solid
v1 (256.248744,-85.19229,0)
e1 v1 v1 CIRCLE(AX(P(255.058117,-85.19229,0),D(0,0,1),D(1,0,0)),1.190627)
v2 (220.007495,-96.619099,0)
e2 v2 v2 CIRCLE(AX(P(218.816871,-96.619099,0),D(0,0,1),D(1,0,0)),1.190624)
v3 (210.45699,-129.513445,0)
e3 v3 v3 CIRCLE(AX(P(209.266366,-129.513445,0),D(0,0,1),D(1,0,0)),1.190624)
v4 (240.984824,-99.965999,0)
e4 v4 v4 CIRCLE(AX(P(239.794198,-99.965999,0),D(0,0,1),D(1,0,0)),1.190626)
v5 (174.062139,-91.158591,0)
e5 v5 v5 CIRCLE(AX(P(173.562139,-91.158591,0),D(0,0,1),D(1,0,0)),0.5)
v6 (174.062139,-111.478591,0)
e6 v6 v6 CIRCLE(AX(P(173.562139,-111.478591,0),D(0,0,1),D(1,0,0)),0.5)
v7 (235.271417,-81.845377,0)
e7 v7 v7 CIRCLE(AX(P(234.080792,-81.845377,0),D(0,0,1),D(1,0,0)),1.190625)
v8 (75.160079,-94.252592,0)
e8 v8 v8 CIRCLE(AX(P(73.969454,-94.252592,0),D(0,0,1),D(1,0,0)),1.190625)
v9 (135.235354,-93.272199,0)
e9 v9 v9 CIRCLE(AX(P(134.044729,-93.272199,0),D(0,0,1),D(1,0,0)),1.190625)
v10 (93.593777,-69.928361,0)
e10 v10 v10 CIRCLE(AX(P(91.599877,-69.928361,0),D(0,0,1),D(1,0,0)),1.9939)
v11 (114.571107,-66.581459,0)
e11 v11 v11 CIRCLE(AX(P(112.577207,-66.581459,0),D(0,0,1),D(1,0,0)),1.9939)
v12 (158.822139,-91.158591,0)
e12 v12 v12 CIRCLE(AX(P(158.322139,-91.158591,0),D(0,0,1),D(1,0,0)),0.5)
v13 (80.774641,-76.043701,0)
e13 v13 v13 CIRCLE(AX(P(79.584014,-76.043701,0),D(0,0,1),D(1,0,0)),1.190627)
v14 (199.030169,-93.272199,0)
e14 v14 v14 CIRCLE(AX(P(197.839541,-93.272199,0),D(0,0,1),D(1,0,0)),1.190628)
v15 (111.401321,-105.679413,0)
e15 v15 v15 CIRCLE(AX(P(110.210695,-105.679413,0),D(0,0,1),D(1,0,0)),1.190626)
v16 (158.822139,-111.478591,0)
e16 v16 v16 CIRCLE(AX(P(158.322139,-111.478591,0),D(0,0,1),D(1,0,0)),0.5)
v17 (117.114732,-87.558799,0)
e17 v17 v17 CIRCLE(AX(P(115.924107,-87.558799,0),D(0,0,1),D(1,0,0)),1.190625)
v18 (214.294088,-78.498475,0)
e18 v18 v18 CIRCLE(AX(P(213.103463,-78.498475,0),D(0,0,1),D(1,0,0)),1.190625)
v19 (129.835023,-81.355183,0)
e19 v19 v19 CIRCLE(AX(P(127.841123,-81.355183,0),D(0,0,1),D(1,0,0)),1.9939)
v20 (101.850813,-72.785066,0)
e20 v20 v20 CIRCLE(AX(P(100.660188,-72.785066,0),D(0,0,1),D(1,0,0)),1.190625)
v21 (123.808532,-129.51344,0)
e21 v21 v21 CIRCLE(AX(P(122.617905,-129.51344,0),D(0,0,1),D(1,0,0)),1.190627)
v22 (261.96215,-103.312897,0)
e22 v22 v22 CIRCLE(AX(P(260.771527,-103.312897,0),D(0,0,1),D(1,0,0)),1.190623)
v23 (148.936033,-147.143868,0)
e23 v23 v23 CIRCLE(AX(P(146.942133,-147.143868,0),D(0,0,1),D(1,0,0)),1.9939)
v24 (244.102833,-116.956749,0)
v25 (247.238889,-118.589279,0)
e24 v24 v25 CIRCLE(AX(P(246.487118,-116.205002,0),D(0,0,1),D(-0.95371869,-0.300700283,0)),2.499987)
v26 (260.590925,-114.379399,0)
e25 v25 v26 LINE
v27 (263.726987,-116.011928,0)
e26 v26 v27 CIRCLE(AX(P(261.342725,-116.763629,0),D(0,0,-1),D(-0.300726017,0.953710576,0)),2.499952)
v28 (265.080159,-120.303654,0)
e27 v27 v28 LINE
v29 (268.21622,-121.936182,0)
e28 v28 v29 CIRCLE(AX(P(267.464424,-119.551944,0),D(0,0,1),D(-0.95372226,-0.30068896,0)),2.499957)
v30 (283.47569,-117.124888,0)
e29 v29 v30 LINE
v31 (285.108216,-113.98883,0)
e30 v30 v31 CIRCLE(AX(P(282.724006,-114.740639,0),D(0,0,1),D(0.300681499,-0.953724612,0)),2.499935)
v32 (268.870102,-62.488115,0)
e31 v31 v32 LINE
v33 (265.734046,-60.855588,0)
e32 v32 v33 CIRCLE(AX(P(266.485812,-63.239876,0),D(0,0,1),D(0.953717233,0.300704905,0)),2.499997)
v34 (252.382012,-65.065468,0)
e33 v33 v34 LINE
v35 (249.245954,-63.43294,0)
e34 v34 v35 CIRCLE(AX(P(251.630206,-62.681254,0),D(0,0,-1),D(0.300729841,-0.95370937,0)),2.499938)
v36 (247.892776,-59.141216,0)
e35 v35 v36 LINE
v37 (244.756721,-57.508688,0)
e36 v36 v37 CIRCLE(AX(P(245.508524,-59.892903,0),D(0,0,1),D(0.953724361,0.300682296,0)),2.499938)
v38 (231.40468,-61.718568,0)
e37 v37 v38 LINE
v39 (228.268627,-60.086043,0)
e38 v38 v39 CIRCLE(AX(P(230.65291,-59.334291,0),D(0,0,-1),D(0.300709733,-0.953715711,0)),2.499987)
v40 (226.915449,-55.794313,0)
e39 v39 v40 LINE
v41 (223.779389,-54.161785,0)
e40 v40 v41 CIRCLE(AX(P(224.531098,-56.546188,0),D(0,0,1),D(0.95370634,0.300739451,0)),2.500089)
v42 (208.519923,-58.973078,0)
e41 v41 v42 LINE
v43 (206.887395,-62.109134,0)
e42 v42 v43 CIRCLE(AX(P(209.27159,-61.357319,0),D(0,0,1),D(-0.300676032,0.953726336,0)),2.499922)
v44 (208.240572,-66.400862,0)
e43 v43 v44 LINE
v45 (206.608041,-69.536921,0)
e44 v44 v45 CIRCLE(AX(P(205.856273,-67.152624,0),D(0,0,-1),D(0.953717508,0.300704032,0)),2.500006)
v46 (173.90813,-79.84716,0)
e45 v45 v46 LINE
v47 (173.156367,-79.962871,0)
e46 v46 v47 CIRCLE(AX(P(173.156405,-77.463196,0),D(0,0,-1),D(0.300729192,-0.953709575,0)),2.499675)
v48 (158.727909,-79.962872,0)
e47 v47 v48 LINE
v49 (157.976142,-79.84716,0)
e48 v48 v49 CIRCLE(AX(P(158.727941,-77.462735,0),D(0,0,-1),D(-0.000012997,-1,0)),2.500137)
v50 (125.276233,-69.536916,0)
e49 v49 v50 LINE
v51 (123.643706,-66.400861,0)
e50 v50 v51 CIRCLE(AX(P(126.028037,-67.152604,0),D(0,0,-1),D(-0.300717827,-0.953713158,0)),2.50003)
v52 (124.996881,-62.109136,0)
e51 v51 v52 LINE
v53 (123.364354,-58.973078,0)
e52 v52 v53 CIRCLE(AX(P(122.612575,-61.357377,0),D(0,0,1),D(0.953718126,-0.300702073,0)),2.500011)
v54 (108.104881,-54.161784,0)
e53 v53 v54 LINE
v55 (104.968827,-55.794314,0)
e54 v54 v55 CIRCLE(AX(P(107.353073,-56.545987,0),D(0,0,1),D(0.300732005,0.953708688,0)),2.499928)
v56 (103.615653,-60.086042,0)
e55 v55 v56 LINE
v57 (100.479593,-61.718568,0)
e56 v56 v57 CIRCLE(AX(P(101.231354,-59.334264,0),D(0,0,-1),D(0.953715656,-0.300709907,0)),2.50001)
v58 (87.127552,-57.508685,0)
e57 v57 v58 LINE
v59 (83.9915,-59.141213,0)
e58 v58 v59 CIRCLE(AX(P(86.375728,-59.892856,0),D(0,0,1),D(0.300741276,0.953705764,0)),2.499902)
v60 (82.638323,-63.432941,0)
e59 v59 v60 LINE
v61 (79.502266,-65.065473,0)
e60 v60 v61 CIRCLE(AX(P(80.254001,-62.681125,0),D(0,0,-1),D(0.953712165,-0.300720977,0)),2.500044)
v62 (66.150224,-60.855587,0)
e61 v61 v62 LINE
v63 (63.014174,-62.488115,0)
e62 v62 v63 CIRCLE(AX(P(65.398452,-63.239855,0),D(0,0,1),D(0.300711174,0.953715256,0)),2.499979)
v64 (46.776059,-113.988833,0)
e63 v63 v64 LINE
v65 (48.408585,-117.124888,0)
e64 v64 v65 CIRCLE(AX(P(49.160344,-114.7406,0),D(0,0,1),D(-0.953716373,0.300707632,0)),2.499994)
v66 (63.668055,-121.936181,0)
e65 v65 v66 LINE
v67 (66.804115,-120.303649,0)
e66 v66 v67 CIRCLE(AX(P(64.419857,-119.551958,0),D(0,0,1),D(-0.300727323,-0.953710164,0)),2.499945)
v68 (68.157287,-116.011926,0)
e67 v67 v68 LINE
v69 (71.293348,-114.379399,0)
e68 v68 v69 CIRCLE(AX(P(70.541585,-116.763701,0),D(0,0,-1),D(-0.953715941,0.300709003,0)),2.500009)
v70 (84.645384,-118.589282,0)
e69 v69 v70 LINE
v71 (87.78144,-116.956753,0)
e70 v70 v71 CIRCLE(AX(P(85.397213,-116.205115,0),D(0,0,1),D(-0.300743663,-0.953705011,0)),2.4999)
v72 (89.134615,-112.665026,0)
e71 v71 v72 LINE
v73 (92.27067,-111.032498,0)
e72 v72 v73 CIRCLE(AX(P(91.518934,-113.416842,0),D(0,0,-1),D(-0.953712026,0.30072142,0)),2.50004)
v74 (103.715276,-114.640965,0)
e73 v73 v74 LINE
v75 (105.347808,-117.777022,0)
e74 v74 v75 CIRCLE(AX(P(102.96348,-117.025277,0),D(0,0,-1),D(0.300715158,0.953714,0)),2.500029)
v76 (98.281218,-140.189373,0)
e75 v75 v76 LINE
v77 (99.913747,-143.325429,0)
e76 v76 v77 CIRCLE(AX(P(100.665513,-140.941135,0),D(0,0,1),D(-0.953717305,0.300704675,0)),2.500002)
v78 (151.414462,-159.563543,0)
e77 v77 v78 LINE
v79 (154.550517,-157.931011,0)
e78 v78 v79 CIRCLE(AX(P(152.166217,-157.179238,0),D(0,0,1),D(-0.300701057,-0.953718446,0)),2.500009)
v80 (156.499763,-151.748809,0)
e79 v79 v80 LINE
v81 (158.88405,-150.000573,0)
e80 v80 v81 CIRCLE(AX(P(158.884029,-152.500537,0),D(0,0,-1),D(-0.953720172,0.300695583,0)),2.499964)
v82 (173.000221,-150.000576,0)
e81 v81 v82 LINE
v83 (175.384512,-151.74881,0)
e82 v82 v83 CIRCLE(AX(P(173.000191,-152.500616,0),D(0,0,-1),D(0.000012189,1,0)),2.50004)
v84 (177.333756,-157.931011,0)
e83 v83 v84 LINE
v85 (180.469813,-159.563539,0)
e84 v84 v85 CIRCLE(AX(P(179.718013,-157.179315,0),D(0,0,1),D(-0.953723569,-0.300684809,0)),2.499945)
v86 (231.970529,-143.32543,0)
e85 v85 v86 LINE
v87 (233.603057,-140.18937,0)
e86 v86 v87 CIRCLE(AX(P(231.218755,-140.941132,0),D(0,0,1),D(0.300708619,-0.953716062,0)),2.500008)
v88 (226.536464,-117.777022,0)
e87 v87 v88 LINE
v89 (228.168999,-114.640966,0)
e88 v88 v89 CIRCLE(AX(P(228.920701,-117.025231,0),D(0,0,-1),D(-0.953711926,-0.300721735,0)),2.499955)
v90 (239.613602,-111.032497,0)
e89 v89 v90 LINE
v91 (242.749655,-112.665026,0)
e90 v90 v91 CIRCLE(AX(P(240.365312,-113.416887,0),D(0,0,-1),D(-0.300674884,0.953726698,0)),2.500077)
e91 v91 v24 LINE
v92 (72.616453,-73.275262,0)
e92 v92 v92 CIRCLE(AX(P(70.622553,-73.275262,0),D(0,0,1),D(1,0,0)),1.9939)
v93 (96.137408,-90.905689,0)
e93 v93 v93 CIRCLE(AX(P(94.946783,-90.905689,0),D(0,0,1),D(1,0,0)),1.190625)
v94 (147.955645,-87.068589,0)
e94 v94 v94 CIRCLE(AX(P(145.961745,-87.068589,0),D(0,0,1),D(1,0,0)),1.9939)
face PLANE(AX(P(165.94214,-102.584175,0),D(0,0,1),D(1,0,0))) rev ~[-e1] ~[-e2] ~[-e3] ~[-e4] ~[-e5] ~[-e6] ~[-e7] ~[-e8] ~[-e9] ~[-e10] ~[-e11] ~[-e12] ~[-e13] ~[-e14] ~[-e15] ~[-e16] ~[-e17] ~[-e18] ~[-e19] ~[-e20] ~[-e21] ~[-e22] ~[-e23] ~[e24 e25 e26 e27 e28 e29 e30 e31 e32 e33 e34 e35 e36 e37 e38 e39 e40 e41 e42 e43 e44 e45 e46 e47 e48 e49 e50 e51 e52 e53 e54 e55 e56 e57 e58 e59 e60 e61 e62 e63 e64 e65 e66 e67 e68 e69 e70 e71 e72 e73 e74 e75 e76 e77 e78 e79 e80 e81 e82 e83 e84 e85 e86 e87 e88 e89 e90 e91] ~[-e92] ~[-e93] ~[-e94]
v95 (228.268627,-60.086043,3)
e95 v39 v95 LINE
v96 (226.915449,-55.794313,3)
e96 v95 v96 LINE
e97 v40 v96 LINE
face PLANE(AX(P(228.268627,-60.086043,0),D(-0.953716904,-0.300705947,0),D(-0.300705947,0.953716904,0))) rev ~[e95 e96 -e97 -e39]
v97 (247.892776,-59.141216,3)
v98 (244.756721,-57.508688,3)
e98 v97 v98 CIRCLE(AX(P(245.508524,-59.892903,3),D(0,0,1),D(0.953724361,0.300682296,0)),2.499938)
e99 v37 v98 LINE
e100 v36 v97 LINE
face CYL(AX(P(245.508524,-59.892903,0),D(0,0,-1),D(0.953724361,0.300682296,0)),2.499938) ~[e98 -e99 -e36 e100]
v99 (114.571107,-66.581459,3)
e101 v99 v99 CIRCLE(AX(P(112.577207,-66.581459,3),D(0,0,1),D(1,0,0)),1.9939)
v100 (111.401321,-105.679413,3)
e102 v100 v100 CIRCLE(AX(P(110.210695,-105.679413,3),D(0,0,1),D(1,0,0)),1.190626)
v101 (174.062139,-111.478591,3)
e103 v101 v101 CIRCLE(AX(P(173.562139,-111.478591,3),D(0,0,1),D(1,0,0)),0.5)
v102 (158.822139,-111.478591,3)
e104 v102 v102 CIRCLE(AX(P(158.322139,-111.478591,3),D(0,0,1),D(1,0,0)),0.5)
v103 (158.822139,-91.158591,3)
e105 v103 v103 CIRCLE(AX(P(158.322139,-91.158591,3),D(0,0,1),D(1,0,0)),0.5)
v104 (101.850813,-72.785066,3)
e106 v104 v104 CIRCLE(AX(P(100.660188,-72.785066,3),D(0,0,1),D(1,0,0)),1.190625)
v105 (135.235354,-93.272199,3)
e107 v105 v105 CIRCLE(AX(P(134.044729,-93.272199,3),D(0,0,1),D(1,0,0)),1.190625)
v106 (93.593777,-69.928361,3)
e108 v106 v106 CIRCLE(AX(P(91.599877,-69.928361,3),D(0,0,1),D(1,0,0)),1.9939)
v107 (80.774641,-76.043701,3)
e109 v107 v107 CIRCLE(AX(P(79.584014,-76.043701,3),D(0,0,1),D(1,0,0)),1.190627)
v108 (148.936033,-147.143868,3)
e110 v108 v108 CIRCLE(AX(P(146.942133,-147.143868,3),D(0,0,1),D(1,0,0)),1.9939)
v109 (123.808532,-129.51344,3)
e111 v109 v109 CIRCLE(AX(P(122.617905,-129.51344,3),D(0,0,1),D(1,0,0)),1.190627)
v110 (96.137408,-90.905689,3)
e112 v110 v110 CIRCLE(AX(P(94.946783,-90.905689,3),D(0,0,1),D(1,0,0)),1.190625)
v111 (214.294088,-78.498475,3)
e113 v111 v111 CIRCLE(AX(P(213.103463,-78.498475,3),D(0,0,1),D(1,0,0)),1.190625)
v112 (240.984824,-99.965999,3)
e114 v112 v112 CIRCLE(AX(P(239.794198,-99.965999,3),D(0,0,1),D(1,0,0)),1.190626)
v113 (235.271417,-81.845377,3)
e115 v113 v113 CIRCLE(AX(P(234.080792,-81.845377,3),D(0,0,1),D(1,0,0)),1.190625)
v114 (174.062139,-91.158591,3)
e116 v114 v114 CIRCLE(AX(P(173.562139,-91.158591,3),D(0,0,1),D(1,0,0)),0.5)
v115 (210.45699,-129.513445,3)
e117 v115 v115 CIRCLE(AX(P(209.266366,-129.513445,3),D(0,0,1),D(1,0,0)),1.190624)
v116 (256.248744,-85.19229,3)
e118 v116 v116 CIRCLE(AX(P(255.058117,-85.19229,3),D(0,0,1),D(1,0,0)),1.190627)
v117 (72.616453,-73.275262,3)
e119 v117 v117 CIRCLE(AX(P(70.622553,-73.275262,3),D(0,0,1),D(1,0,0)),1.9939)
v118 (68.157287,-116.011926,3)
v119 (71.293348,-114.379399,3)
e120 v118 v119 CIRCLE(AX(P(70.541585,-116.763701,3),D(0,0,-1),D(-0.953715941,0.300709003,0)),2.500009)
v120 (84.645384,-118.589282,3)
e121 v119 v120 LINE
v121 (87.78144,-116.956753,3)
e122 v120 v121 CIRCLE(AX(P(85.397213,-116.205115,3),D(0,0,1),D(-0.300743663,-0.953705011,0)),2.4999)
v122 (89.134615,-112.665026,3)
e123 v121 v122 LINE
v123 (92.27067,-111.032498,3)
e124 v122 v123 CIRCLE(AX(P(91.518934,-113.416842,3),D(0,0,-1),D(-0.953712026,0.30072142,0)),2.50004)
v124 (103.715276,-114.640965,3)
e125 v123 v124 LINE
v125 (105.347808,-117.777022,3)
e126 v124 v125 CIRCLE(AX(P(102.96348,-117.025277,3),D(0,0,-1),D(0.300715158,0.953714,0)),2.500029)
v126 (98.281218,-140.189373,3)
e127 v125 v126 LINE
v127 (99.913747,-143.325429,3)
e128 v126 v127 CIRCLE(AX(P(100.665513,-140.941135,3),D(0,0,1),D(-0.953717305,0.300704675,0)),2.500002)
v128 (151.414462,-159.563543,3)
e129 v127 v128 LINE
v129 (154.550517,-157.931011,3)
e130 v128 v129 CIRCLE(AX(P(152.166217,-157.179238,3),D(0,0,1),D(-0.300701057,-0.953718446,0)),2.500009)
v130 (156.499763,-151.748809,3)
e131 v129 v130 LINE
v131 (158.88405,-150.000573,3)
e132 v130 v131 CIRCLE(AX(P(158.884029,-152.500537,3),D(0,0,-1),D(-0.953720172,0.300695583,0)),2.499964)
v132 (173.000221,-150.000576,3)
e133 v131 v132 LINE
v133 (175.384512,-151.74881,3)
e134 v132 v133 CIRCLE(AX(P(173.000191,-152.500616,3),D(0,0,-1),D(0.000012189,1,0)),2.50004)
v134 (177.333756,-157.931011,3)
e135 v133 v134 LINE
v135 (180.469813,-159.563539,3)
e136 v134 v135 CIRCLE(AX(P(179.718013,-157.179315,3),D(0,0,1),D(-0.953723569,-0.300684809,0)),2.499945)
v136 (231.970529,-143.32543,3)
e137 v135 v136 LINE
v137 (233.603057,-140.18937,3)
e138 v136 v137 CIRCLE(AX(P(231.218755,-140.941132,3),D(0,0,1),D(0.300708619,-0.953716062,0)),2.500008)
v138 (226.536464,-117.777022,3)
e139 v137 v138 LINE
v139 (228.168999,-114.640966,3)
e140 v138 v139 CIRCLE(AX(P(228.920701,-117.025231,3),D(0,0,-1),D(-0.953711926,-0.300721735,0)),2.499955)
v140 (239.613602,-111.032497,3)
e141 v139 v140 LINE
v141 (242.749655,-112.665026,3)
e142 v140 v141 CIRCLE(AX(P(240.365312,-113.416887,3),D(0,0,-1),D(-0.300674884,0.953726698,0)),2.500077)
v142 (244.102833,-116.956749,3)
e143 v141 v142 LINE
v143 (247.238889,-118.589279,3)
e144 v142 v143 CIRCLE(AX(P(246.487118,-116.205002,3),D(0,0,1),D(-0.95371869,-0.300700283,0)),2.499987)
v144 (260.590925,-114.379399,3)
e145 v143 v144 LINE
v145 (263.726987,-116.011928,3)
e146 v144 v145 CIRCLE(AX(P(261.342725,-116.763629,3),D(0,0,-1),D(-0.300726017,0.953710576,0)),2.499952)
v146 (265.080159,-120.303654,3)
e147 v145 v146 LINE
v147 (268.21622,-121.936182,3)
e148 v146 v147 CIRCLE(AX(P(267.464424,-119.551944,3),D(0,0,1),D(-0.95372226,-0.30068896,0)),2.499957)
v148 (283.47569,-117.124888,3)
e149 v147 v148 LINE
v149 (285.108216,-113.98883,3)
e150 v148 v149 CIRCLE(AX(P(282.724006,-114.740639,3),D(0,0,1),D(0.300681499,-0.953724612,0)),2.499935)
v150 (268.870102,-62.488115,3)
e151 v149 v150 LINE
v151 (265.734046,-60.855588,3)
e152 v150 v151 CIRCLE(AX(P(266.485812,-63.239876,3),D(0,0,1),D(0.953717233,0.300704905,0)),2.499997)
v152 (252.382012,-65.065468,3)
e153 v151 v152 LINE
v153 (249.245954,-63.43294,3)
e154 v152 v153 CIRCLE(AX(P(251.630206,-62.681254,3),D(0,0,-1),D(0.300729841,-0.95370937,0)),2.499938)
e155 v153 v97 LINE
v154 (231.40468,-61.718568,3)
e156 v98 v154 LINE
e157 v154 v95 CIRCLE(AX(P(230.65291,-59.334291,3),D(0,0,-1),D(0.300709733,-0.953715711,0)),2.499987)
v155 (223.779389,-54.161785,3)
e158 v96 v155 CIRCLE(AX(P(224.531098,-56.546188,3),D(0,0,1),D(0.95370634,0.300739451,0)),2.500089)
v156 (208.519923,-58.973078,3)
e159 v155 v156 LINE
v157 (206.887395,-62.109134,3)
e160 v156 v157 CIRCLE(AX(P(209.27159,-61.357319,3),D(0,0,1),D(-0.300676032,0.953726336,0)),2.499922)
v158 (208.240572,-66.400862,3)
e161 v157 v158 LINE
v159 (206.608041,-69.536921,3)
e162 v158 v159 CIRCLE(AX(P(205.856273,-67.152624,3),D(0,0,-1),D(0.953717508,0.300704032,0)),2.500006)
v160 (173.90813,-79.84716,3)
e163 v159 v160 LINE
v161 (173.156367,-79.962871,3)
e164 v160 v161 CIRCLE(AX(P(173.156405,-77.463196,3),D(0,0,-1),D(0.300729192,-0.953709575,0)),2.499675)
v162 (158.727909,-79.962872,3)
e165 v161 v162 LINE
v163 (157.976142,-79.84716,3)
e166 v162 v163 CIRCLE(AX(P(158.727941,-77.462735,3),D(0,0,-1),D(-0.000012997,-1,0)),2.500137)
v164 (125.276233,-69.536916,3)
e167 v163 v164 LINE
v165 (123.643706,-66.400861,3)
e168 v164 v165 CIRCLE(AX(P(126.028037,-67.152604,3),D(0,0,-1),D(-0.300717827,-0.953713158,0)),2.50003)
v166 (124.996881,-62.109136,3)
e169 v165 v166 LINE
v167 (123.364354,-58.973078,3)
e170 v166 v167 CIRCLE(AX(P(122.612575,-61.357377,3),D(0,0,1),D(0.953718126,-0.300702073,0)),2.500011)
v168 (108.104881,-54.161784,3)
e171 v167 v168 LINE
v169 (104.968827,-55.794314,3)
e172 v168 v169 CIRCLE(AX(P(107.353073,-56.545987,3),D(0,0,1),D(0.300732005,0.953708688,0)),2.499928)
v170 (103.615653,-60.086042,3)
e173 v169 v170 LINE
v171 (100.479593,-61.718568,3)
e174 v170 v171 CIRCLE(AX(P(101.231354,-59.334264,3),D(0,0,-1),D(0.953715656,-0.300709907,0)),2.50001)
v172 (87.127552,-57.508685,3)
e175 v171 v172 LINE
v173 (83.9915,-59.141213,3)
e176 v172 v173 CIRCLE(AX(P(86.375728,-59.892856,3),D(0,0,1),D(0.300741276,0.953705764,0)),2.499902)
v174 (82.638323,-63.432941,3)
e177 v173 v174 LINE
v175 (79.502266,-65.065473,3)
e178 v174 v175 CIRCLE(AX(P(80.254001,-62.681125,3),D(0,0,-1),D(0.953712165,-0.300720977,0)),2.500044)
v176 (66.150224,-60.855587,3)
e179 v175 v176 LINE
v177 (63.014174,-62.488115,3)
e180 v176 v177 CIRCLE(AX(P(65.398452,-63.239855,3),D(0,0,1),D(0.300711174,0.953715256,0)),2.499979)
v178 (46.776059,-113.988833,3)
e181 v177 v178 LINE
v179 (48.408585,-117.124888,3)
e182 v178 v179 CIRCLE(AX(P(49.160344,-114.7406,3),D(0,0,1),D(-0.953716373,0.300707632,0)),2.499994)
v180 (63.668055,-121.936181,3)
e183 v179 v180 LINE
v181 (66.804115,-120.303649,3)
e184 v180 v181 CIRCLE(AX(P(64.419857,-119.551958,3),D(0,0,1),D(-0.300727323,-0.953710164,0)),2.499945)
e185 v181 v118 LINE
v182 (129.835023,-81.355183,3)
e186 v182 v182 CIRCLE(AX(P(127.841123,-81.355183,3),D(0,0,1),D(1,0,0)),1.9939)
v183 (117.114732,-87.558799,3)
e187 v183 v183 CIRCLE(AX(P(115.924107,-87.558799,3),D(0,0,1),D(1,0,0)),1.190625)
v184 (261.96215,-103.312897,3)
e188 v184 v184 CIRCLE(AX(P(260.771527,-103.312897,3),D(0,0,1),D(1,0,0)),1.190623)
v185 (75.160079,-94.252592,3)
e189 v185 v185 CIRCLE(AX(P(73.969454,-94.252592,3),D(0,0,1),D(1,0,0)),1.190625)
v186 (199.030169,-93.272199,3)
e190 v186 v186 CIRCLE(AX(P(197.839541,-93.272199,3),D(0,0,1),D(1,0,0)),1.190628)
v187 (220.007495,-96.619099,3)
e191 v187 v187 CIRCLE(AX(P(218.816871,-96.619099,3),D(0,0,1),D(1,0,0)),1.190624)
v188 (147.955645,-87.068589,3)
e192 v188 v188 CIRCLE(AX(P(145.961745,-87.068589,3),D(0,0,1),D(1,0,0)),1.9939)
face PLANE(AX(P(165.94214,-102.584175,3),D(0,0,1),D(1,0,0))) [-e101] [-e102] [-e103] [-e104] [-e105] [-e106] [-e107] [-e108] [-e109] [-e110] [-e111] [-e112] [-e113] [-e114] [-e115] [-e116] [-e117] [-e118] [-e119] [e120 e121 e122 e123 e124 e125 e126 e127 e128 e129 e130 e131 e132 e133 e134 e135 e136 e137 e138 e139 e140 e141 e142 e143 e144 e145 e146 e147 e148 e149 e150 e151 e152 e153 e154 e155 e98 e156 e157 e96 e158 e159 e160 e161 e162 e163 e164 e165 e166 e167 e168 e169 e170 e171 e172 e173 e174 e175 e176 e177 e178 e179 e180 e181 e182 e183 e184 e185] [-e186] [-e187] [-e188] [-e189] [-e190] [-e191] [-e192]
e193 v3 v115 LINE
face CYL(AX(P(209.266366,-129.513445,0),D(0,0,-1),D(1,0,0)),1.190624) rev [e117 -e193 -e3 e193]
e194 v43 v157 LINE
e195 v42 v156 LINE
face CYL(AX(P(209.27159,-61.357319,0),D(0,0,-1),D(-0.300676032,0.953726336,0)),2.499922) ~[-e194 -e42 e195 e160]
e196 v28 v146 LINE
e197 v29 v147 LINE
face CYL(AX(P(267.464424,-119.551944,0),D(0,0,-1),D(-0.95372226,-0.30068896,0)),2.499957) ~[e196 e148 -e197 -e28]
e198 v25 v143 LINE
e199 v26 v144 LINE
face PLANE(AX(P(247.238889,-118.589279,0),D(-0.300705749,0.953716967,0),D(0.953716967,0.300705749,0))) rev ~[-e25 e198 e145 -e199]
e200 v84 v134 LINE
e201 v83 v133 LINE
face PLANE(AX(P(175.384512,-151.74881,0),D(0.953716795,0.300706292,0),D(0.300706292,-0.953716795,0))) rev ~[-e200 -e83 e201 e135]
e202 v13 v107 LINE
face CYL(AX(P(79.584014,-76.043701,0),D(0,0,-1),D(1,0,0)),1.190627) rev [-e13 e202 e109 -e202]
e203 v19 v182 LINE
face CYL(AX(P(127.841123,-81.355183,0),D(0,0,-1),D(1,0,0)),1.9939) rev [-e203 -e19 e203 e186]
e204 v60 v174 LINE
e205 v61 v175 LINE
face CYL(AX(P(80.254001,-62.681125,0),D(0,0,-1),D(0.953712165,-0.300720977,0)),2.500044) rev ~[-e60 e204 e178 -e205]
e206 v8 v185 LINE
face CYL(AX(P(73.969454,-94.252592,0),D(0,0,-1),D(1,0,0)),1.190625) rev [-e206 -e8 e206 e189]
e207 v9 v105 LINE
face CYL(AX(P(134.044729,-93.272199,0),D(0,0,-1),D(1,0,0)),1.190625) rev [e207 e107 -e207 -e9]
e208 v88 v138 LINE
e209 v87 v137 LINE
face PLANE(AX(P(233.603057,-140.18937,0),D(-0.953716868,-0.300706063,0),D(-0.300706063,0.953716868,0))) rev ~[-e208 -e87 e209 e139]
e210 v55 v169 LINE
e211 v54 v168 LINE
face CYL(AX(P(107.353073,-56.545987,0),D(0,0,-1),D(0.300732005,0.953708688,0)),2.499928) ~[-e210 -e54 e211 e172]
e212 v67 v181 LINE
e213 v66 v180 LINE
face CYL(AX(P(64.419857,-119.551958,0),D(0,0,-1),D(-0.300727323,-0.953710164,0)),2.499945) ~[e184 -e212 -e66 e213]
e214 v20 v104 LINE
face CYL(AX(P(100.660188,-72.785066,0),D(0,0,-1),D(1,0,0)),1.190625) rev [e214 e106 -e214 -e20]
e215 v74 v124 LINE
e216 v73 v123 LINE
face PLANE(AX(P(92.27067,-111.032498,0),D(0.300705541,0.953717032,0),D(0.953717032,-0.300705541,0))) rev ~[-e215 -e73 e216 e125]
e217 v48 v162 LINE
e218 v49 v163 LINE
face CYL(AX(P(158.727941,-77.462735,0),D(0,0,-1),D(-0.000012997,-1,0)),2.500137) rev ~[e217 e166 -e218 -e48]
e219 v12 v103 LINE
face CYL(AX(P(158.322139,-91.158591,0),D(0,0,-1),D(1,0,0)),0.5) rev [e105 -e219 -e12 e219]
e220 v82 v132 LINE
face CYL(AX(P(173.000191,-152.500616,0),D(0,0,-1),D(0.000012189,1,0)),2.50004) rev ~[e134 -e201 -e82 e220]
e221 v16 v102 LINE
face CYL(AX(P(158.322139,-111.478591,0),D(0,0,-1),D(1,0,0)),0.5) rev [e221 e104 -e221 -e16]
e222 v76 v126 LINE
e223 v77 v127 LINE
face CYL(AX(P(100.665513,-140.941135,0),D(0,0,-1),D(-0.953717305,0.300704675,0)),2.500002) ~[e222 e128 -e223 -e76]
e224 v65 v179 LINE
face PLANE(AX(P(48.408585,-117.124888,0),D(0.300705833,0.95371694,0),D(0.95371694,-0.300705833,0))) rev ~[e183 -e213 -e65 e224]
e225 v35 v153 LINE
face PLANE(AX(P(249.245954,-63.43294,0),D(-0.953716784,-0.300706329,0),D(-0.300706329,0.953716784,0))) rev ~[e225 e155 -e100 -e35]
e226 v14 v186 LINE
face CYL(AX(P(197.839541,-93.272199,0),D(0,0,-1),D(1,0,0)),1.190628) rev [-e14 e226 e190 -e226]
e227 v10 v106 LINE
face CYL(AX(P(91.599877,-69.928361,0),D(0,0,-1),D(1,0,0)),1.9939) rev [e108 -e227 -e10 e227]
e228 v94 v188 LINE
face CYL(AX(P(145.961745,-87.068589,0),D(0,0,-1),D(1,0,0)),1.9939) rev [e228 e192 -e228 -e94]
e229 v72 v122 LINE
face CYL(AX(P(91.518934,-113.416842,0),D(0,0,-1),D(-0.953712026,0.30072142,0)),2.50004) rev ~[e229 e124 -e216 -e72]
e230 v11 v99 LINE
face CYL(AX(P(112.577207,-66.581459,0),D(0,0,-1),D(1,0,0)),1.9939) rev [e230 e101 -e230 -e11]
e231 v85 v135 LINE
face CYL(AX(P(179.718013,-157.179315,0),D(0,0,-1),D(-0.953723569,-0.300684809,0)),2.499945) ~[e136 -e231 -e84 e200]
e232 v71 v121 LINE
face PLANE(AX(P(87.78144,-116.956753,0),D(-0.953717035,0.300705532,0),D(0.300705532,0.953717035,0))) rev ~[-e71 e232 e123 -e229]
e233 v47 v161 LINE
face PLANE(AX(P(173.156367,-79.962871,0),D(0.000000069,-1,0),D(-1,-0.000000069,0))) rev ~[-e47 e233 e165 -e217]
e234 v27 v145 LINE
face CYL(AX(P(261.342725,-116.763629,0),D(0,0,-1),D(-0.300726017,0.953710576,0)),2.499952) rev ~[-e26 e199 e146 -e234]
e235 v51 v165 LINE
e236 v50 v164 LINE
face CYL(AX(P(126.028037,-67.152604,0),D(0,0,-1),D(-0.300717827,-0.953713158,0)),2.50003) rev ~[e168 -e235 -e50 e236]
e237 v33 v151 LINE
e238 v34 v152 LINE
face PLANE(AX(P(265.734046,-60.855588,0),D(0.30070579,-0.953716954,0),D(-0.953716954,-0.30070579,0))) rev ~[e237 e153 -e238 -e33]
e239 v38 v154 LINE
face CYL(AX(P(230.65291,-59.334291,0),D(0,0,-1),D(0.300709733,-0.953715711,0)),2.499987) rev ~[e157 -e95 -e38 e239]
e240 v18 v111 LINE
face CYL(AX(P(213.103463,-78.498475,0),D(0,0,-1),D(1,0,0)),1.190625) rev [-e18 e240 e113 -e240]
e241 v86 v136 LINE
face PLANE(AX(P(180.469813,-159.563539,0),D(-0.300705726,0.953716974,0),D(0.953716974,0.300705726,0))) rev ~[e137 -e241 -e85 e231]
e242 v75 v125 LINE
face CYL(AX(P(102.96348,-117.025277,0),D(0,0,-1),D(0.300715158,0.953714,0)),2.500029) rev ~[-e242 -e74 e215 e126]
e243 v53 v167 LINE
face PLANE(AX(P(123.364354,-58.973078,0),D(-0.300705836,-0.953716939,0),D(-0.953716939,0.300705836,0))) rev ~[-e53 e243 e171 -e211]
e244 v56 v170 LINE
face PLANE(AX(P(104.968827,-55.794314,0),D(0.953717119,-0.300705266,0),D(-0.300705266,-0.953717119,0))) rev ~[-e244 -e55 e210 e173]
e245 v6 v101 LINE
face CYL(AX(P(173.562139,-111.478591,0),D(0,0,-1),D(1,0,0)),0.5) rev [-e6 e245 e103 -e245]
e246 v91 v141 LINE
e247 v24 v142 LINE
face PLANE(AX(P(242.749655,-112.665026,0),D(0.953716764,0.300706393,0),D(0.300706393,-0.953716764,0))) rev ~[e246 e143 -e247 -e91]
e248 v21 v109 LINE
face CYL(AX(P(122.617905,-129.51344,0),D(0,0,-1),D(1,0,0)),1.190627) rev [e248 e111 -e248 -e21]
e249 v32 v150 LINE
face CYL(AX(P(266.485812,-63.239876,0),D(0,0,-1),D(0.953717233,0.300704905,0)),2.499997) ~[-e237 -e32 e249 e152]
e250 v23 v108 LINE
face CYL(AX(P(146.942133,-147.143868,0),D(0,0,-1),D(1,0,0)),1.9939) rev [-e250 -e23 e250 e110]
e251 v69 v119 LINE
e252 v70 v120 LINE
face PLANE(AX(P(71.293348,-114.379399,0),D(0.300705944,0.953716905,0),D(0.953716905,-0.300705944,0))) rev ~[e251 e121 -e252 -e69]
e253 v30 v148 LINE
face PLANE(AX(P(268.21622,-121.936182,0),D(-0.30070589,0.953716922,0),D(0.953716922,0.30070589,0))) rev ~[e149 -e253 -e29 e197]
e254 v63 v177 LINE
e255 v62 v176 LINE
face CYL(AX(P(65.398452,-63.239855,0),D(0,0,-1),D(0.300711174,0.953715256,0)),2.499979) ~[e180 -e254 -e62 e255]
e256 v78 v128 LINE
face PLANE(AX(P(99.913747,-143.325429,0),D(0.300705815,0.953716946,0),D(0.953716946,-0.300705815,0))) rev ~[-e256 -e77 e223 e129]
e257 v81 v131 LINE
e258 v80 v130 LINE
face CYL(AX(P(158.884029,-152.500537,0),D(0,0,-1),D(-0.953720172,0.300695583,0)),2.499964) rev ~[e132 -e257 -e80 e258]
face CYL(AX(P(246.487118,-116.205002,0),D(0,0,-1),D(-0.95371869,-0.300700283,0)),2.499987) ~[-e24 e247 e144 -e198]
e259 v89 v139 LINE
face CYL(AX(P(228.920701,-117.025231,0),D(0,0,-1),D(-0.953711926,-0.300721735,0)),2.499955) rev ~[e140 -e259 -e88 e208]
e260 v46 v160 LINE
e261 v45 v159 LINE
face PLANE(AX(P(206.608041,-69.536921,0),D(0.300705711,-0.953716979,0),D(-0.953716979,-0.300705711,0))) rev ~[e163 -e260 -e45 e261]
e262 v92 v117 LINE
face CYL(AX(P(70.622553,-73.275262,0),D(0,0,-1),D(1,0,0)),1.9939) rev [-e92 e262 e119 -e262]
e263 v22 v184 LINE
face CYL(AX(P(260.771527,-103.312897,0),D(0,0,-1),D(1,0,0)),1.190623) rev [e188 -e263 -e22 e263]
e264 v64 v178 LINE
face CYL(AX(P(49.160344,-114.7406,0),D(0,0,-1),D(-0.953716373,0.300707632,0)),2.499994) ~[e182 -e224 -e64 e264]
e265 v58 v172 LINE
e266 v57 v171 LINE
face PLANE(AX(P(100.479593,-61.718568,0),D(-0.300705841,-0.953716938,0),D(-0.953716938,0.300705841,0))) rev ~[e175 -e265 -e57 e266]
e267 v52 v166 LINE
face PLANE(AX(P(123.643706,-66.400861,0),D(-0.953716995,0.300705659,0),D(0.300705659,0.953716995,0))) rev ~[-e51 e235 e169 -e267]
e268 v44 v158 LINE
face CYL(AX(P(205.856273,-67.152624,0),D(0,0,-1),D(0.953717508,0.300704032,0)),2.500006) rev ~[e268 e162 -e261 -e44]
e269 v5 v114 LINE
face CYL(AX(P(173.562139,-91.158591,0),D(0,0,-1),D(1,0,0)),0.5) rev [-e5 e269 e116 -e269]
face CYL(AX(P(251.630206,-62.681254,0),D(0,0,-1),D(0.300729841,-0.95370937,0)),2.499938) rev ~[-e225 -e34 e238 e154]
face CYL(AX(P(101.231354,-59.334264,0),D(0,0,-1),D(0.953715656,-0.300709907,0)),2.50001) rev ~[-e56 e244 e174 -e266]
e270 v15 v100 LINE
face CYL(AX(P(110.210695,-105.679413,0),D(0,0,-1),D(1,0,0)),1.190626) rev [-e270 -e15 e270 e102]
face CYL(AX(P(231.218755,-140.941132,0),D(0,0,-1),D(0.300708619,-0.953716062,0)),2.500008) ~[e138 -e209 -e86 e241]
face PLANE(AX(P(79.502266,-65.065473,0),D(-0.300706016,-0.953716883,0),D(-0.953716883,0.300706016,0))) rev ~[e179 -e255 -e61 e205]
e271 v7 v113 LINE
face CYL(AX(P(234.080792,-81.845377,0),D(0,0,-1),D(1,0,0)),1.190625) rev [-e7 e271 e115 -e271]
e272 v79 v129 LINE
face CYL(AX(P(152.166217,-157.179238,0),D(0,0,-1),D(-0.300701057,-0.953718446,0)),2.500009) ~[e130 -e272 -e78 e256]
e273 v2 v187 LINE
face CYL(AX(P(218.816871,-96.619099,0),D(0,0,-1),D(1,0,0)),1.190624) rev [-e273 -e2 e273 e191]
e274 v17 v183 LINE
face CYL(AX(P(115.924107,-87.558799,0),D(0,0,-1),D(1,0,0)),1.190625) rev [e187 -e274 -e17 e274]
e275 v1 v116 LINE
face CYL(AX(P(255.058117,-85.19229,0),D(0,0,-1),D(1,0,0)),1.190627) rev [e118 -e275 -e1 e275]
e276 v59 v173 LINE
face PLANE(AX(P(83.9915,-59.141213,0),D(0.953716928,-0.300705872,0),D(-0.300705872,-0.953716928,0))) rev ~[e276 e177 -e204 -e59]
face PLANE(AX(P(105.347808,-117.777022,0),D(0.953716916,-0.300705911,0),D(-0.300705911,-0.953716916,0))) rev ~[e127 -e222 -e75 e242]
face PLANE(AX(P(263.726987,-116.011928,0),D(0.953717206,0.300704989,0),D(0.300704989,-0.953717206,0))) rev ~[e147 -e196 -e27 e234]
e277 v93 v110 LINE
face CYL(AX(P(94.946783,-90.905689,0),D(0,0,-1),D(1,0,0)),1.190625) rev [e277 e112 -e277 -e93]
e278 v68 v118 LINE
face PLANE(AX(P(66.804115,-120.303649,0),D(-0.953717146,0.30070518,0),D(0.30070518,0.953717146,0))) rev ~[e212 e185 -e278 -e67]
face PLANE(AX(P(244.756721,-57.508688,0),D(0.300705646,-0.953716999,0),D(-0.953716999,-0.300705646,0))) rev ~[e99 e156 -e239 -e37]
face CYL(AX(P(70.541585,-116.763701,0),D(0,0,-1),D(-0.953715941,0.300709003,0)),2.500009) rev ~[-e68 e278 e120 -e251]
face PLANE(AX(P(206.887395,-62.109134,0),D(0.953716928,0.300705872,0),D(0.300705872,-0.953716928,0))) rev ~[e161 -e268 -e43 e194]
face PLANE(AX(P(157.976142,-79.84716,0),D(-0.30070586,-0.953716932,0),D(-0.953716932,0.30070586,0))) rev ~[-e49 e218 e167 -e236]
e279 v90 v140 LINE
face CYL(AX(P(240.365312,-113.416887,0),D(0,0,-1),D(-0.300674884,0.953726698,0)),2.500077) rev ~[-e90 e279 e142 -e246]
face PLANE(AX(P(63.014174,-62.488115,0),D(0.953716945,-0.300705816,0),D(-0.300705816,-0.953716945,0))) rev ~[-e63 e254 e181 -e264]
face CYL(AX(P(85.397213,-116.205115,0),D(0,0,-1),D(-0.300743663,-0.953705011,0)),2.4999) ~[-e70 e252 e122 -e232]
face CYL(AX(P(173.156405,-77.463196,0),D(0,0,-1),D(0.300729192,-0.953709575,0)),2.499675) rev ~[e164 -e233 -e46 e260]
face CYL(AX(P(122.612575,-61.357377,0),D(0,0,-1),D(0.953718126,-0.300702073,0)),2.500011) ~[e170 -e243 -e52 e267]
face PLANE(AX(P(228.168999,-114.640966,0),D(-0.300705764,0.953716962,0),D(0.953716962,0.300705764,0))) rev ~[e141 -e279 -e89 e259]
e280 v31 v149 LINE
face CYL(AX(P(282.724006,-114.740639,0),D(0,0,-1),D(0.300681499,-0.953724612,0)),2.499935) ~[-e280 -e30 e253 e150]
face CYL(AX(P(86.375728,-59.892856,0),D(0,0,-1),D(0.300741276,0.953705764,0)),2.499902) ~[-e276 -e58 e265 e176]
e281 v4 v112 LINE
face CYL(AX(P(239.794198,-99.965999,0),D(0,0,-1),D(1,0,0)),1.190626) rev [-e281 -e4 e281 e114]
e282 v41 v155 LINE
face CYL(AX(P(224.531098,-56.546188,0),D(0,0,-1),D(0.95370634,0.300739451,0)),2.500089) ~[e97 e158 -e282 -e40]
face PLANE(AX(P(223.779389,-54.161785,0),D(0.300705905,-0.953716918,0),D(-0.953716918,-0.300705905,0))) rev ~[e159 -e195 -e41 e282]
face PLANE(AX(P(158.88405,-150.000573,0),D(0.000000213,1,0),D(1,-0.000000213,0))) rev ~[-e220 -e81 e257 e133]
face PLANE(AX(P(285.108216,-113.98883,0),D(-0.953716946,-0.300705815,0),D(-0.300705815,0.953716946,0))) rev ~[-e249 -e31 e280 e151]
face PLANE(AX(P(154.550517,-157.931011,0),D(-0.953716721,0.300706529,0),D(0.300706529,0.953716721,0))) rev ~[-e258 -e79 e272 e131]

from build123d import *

# Parameters (mm, degrees)
SKETCH1_R           = 1.190623
SKETCH1_R_2         = 1.190627
SKETCH1_R_3         = 1.190626
SKETCH1_R_4         = 1.190625
SKETCH1_R_5         = 1.190624
SKETCH1_R_6         = 1.190628
SKETCH1_R_7         = 1.9939
SKETCH1_R_8         = 0.5
BOSS_EXTRUDE1_DEPTH = 3


with BuildPart() as part:
    # Sketch1 → Boss-Extrude1 (new body)
    with BuildSketch(Plane.XY):
        with BuildLine():
            Line((104.968827, -55.794314), (103.615653, -60.086042))
            ThreePointArc((103.615653, -60.086042), (102.385728566, -61.551801144), (100.479593, -61.718568))
            Line((100.479593, -61.718568), (87.127552, -57.508685))
            ThreePointArc((87.127552, -57.508685), (85.221400275, -57.675416583), (83.9915, -59.141213))
            Line((83.9915, -59.141213), (82.638323, -63.432941))
            ThreePointArc((82.638323, -63.432941), (81.408394852, -64.898690118), (79.502266, -65.065473))
            Line((79.502266, -65.065473), (66.150224, -60.855587))
            ThreePointArc((66.150224, -60.855587), (64.244088242, -61.02234775), (63.014174, -62.488115))
            Line((63.014174, -62.488115), (46.776059, -113.988833))
            ThreePointArc((46.776059, -113.988833), (46.942822186, -115.894968516), (48.408585, -117.124888))
            Line((48.408585, -117.124888), (63.668055, -121.936181))
            ThreePointArc((63.668055, -121.936181), (65.574204538, -121.769435597), (66.804115, -120.303649))
            Line((66.804115, -120.303649), (68.157287, -116.011926))
            ThreePointArc((68.157287, -116.011926), (69.387211331, -114.546165389), (71.293348, -114.379399))
            Line((71.293348, -114.379399), (84.645384, -118.589282))
            ThreePointArc((84.645384, -118.589282), (86.551538999, -118.422552795), (87.78144, -116.956753))
            Line((87.78144, -116.956753), (89.134615, -112.665026))
            ThreePointArc((89.134615, -112.665026), (90.364542844, -111.19927904), (92.27067, -111.032498))
            Line((92.27067, -111.032498), (103.715276, -114.640965))
            ThreePointArc((103.715276, -114.640965), (105.181030723, -115.870890231), (105.347808, -117.777022))
            Line((105.347808, -117.777022), (98.281218, -140.189373))
            ThreePointArc((98.281218, -140.189373), (98.447984756, -142.095508452), (99.913747, -143.325429))
            Line((99.913747, -143.325429), (151.414462, -159.563543))
            ThreePointArc((151.414462, -159.563543), (153.320596182, -159.396771864), (154.550517, -157.931011))
            Line((154.550517, -157.931011), (156.499763, -151.748809))
            ThreePointArc((156.499763, -151.748809), (157.405773888, -150.484456349), (158.88405, -150.000573))
            Line((158.88405, -150.000573), (173.000221, -150.000576))
            ThreePointArc((173.000221, -150.000576), (174.478488224, -150.484472097), (175.384512, -151.74881))
            Line((175.384512, -151.74881), (177.333756, -157.931011))
            ThreePointArc((177.333756, -157.931011), (178.563666363, -159.396793874), (180.469813, -159.563539))
            Line((180.469813, -159.563539), (231.970529, -143.32543))
            ThreePointArc((231.970529, -143.32543), (233.436289923, -142.095506386), (233.603057, -140.18937))
            Line((233.603057, -140.18937), (226.536464, -117.777022))
            ThreePointArc((226.536464, -117.777022), (226.703215942, -115.870876032), (228.168999, -114.640966))
            Line((228.168999, -114.640966), (239.613602, -111.032497))
            ThreePointArc((239.613602, -111.032497), (241.519721203, -111.199292709), (242.749655, -112.665026))
            Line((242.749655, -112.665026), (244.102833, -116.956749))
            ThreePointArc((244.102833, -116.956749), (245.33275051, -118.422517183), (247.238889, -118.589279))
            Line((247.238889, -118.589279), (260.590925, -114.379399))
            ThreePointArc((260.590925, -114.379399), (262.497073777, -114.546144678), (263.726987, -116.011928))
            Line((263.726987, -116.011928), (265.080159, -120.303654))
            ThreePointArc((265.080159, -120.303654), (266.310073195, -121.769434184), (268.21622, -121.936182))
            Line((268.21622, -121.936182), (283.47569, -117.124888))
            ThreePointArc((283.47569, -117.124888), (284.94147585, -115.894978684), (285.108216, -113.98883))
            Line((285.108216, -113.98883), (268.870102, -62.488115))
            ThreePointArc((268.870102, -62.488115), (267.640181911, -61.022352077), (265.734046, -60.855588))
            Line((265.734046, -60.855588), (252.382012, -65.065468))
            ThreePointArc((252.382012, -65.065468), (250.475863383, -64.898725926), (249.245954, -63.43294))
            Line((249.245954, -63.43294), (247.892776, -59.141216))
            ThreePointArc((247.892776, -59.141216), (246.662867771, -57.67543136), (244.756721, -57.508688))
            Line((244.756721, -57.508688), (231.40468, -61.718568))
            ThreePointArc((231.40468, -61.718568), (229.498544633, -61.551806932), (228.268627, -60.086043))
            Line((228.268627, -60.086043), (226.915449, -55.794313))
            ThreePointArc((226.915449, -55.794313), (225.685509928, -54.328581771), (223.779389, -54.161785))
            Line((223.779389, -54.161785), (208.519923, -58.973078))
            ThreePointArc((208.519923, -58.973078), (207.054132, -60.202983526), (206.887395, -62.109134))
            Line((206.887395, -62.109134), (208.240572, -66.400862))
            ThreePointArc((208.240572, -66.400862), (208.073804347, -68.306999096), (206.608041, -69.536921))
            Line((206.608041, -69.536921), (173.90813, -79.84716))
            ThreePointArc((173.90813, -79.84716), (173.536675423, -79.933776781), (173.156367, -79.962871))
            Line((173.156367, -79.962871), (158.727909, -79.962872))
            ThreePointArc((158.727909, -79.962872), (158.347599344, -79.933772207), (157.976142, -79.84716))
            Line((157.976142, -79.84716), (125.276233, -69.536916))
            ThreePointArc((125.276233, -69.536916), (123.81048285, -68.30698987), (123.643706, -66.400861))
            Line((123.643706, -66.400861), (124.996881, -62.109136))
            ThreePointArc((124.996881, -62.109136), (124.830112452, -60.203001632), (123.364354, -58.973078))
            Line((123.364354, -58.973078), (108.104881, -54.161784))
            ThreePointArc((108.104881, -54.161784), (106.198732394, -54.328524877), (104.968827, -55.794314))
        make_face()
        with Locations((260.771527, -103.312897)):
            Circle(SKETCH1_R, mode=Mode.SUBTRACT)
        with Locations((255.058117, -85.19229)):
            Circle(SKETCH1_R_2, mode=Mode.SUBTRACT)
        with Locations((239.794198, -99.965999)):
            Circle(SKETCH1_R_3, mode=Mode.SUBTRACT)
        with Locations((234.080792, -81.845377)):
            Circle(SKETCH1_R_4, mode=Mode.SUBTRACT)
        with Locations((218.816871, -96.619099)):
            Circle(SKETCH1_R_5, mode=Mode.SUBTRACT)
        with Locations((213.103463, -78.498475)):
            Circle(SKETCH1_R_4, mode=Mode.SUBTRACT)
        with Locations((197.839541, -93.272199)):
            Circle(SKETCH1_R_6, mode=Mode.SUBTRACT)
        with Locations((209.266366, -129.513445)):
            Circle(SKETCH1_R_5, mode=Mode.SUBTRACT)
        with Locations((122.617905, -129.51344)):
            Circle(SKETCH1_R_2, mode=Mode.SUBTRACT)
        with Locations((134.044729, -93.272199)):
            Circle(SKETCH1_R_4, mode=Mode.SUBTRACT)
        with Locations((110.210695, -105.679413)):
            Circle(SKETCH1_R_3, mode=Mode.SUBTRACT)
        with Locations((115.924107, -87.558799)):
            Circle(SKETCH1_R_4, mode=Mode.SUBTRACT)
        with Locations((100.660188, -72.785066)):
            Circle(SKETCH1_R_4, mode=Mode.SUBTRACT)
        with Locations((94.946783, -90.905689)):
            Circle(SKETCH1_R_4, mode=Mode.SUBTRACT)
        with Locations((73.969454, -94.252592)):
            Circle(SKETCH1_R_4, mode=Mode.SUBTRACT)
        with Locations((79.584014, -76.043701)):
            Circle(SKETCH1_R_2, mode=Mode.SUBTRACT)
        with Locations((146.942133, -147.143868)):
            Circle(SKETCH1_R_7, mode=Mode.SUBTRACT)
        with Locations((145.961745, -87.068589)):
            Circle(SKETCH1_R_7, mode=Mode.SUBTRACT)
        with Locations((127.841123, -81.355183)):
            Circle(SKETCH1_R_7, mode=Mode.SUBTRACT)
        with Locations((112.577207, -66.581459)):
            Circle(SKETCH1_R_7, mode=Mode.SUBTRACT)
        with Locations((91.599877, -69.928361)):
            Circle(SKETCH1_R_7, mode=Mode.SUBTRACT)
        with Locations((70.622553, -73.275262)):
            Circle(SKETCH1_R_7, mode=Mode.SUBTRACT)
        with Locations((158.322139, -111.478591)):
            Circle(SKETCH1_R_8, mode=Mode.SUBTRACT)
        with Locations((173.562139, -111.478591)):
            Circle(SKETCH1_R_8, mode=Mode.SUBTRACT)
        with Locations((173.562139, -91.158591)):
            Circle(SKETCH1_R_8, mode=Mode.SUBTRACT)
        with Locations((158.322139, -91.158591)):
            Circle(SKETCH1_R_8, mode=Mode.SUBTRACT)
    extrude(amount=BOSS_EXTRUDE1_DEPTH)


solid = part.part
